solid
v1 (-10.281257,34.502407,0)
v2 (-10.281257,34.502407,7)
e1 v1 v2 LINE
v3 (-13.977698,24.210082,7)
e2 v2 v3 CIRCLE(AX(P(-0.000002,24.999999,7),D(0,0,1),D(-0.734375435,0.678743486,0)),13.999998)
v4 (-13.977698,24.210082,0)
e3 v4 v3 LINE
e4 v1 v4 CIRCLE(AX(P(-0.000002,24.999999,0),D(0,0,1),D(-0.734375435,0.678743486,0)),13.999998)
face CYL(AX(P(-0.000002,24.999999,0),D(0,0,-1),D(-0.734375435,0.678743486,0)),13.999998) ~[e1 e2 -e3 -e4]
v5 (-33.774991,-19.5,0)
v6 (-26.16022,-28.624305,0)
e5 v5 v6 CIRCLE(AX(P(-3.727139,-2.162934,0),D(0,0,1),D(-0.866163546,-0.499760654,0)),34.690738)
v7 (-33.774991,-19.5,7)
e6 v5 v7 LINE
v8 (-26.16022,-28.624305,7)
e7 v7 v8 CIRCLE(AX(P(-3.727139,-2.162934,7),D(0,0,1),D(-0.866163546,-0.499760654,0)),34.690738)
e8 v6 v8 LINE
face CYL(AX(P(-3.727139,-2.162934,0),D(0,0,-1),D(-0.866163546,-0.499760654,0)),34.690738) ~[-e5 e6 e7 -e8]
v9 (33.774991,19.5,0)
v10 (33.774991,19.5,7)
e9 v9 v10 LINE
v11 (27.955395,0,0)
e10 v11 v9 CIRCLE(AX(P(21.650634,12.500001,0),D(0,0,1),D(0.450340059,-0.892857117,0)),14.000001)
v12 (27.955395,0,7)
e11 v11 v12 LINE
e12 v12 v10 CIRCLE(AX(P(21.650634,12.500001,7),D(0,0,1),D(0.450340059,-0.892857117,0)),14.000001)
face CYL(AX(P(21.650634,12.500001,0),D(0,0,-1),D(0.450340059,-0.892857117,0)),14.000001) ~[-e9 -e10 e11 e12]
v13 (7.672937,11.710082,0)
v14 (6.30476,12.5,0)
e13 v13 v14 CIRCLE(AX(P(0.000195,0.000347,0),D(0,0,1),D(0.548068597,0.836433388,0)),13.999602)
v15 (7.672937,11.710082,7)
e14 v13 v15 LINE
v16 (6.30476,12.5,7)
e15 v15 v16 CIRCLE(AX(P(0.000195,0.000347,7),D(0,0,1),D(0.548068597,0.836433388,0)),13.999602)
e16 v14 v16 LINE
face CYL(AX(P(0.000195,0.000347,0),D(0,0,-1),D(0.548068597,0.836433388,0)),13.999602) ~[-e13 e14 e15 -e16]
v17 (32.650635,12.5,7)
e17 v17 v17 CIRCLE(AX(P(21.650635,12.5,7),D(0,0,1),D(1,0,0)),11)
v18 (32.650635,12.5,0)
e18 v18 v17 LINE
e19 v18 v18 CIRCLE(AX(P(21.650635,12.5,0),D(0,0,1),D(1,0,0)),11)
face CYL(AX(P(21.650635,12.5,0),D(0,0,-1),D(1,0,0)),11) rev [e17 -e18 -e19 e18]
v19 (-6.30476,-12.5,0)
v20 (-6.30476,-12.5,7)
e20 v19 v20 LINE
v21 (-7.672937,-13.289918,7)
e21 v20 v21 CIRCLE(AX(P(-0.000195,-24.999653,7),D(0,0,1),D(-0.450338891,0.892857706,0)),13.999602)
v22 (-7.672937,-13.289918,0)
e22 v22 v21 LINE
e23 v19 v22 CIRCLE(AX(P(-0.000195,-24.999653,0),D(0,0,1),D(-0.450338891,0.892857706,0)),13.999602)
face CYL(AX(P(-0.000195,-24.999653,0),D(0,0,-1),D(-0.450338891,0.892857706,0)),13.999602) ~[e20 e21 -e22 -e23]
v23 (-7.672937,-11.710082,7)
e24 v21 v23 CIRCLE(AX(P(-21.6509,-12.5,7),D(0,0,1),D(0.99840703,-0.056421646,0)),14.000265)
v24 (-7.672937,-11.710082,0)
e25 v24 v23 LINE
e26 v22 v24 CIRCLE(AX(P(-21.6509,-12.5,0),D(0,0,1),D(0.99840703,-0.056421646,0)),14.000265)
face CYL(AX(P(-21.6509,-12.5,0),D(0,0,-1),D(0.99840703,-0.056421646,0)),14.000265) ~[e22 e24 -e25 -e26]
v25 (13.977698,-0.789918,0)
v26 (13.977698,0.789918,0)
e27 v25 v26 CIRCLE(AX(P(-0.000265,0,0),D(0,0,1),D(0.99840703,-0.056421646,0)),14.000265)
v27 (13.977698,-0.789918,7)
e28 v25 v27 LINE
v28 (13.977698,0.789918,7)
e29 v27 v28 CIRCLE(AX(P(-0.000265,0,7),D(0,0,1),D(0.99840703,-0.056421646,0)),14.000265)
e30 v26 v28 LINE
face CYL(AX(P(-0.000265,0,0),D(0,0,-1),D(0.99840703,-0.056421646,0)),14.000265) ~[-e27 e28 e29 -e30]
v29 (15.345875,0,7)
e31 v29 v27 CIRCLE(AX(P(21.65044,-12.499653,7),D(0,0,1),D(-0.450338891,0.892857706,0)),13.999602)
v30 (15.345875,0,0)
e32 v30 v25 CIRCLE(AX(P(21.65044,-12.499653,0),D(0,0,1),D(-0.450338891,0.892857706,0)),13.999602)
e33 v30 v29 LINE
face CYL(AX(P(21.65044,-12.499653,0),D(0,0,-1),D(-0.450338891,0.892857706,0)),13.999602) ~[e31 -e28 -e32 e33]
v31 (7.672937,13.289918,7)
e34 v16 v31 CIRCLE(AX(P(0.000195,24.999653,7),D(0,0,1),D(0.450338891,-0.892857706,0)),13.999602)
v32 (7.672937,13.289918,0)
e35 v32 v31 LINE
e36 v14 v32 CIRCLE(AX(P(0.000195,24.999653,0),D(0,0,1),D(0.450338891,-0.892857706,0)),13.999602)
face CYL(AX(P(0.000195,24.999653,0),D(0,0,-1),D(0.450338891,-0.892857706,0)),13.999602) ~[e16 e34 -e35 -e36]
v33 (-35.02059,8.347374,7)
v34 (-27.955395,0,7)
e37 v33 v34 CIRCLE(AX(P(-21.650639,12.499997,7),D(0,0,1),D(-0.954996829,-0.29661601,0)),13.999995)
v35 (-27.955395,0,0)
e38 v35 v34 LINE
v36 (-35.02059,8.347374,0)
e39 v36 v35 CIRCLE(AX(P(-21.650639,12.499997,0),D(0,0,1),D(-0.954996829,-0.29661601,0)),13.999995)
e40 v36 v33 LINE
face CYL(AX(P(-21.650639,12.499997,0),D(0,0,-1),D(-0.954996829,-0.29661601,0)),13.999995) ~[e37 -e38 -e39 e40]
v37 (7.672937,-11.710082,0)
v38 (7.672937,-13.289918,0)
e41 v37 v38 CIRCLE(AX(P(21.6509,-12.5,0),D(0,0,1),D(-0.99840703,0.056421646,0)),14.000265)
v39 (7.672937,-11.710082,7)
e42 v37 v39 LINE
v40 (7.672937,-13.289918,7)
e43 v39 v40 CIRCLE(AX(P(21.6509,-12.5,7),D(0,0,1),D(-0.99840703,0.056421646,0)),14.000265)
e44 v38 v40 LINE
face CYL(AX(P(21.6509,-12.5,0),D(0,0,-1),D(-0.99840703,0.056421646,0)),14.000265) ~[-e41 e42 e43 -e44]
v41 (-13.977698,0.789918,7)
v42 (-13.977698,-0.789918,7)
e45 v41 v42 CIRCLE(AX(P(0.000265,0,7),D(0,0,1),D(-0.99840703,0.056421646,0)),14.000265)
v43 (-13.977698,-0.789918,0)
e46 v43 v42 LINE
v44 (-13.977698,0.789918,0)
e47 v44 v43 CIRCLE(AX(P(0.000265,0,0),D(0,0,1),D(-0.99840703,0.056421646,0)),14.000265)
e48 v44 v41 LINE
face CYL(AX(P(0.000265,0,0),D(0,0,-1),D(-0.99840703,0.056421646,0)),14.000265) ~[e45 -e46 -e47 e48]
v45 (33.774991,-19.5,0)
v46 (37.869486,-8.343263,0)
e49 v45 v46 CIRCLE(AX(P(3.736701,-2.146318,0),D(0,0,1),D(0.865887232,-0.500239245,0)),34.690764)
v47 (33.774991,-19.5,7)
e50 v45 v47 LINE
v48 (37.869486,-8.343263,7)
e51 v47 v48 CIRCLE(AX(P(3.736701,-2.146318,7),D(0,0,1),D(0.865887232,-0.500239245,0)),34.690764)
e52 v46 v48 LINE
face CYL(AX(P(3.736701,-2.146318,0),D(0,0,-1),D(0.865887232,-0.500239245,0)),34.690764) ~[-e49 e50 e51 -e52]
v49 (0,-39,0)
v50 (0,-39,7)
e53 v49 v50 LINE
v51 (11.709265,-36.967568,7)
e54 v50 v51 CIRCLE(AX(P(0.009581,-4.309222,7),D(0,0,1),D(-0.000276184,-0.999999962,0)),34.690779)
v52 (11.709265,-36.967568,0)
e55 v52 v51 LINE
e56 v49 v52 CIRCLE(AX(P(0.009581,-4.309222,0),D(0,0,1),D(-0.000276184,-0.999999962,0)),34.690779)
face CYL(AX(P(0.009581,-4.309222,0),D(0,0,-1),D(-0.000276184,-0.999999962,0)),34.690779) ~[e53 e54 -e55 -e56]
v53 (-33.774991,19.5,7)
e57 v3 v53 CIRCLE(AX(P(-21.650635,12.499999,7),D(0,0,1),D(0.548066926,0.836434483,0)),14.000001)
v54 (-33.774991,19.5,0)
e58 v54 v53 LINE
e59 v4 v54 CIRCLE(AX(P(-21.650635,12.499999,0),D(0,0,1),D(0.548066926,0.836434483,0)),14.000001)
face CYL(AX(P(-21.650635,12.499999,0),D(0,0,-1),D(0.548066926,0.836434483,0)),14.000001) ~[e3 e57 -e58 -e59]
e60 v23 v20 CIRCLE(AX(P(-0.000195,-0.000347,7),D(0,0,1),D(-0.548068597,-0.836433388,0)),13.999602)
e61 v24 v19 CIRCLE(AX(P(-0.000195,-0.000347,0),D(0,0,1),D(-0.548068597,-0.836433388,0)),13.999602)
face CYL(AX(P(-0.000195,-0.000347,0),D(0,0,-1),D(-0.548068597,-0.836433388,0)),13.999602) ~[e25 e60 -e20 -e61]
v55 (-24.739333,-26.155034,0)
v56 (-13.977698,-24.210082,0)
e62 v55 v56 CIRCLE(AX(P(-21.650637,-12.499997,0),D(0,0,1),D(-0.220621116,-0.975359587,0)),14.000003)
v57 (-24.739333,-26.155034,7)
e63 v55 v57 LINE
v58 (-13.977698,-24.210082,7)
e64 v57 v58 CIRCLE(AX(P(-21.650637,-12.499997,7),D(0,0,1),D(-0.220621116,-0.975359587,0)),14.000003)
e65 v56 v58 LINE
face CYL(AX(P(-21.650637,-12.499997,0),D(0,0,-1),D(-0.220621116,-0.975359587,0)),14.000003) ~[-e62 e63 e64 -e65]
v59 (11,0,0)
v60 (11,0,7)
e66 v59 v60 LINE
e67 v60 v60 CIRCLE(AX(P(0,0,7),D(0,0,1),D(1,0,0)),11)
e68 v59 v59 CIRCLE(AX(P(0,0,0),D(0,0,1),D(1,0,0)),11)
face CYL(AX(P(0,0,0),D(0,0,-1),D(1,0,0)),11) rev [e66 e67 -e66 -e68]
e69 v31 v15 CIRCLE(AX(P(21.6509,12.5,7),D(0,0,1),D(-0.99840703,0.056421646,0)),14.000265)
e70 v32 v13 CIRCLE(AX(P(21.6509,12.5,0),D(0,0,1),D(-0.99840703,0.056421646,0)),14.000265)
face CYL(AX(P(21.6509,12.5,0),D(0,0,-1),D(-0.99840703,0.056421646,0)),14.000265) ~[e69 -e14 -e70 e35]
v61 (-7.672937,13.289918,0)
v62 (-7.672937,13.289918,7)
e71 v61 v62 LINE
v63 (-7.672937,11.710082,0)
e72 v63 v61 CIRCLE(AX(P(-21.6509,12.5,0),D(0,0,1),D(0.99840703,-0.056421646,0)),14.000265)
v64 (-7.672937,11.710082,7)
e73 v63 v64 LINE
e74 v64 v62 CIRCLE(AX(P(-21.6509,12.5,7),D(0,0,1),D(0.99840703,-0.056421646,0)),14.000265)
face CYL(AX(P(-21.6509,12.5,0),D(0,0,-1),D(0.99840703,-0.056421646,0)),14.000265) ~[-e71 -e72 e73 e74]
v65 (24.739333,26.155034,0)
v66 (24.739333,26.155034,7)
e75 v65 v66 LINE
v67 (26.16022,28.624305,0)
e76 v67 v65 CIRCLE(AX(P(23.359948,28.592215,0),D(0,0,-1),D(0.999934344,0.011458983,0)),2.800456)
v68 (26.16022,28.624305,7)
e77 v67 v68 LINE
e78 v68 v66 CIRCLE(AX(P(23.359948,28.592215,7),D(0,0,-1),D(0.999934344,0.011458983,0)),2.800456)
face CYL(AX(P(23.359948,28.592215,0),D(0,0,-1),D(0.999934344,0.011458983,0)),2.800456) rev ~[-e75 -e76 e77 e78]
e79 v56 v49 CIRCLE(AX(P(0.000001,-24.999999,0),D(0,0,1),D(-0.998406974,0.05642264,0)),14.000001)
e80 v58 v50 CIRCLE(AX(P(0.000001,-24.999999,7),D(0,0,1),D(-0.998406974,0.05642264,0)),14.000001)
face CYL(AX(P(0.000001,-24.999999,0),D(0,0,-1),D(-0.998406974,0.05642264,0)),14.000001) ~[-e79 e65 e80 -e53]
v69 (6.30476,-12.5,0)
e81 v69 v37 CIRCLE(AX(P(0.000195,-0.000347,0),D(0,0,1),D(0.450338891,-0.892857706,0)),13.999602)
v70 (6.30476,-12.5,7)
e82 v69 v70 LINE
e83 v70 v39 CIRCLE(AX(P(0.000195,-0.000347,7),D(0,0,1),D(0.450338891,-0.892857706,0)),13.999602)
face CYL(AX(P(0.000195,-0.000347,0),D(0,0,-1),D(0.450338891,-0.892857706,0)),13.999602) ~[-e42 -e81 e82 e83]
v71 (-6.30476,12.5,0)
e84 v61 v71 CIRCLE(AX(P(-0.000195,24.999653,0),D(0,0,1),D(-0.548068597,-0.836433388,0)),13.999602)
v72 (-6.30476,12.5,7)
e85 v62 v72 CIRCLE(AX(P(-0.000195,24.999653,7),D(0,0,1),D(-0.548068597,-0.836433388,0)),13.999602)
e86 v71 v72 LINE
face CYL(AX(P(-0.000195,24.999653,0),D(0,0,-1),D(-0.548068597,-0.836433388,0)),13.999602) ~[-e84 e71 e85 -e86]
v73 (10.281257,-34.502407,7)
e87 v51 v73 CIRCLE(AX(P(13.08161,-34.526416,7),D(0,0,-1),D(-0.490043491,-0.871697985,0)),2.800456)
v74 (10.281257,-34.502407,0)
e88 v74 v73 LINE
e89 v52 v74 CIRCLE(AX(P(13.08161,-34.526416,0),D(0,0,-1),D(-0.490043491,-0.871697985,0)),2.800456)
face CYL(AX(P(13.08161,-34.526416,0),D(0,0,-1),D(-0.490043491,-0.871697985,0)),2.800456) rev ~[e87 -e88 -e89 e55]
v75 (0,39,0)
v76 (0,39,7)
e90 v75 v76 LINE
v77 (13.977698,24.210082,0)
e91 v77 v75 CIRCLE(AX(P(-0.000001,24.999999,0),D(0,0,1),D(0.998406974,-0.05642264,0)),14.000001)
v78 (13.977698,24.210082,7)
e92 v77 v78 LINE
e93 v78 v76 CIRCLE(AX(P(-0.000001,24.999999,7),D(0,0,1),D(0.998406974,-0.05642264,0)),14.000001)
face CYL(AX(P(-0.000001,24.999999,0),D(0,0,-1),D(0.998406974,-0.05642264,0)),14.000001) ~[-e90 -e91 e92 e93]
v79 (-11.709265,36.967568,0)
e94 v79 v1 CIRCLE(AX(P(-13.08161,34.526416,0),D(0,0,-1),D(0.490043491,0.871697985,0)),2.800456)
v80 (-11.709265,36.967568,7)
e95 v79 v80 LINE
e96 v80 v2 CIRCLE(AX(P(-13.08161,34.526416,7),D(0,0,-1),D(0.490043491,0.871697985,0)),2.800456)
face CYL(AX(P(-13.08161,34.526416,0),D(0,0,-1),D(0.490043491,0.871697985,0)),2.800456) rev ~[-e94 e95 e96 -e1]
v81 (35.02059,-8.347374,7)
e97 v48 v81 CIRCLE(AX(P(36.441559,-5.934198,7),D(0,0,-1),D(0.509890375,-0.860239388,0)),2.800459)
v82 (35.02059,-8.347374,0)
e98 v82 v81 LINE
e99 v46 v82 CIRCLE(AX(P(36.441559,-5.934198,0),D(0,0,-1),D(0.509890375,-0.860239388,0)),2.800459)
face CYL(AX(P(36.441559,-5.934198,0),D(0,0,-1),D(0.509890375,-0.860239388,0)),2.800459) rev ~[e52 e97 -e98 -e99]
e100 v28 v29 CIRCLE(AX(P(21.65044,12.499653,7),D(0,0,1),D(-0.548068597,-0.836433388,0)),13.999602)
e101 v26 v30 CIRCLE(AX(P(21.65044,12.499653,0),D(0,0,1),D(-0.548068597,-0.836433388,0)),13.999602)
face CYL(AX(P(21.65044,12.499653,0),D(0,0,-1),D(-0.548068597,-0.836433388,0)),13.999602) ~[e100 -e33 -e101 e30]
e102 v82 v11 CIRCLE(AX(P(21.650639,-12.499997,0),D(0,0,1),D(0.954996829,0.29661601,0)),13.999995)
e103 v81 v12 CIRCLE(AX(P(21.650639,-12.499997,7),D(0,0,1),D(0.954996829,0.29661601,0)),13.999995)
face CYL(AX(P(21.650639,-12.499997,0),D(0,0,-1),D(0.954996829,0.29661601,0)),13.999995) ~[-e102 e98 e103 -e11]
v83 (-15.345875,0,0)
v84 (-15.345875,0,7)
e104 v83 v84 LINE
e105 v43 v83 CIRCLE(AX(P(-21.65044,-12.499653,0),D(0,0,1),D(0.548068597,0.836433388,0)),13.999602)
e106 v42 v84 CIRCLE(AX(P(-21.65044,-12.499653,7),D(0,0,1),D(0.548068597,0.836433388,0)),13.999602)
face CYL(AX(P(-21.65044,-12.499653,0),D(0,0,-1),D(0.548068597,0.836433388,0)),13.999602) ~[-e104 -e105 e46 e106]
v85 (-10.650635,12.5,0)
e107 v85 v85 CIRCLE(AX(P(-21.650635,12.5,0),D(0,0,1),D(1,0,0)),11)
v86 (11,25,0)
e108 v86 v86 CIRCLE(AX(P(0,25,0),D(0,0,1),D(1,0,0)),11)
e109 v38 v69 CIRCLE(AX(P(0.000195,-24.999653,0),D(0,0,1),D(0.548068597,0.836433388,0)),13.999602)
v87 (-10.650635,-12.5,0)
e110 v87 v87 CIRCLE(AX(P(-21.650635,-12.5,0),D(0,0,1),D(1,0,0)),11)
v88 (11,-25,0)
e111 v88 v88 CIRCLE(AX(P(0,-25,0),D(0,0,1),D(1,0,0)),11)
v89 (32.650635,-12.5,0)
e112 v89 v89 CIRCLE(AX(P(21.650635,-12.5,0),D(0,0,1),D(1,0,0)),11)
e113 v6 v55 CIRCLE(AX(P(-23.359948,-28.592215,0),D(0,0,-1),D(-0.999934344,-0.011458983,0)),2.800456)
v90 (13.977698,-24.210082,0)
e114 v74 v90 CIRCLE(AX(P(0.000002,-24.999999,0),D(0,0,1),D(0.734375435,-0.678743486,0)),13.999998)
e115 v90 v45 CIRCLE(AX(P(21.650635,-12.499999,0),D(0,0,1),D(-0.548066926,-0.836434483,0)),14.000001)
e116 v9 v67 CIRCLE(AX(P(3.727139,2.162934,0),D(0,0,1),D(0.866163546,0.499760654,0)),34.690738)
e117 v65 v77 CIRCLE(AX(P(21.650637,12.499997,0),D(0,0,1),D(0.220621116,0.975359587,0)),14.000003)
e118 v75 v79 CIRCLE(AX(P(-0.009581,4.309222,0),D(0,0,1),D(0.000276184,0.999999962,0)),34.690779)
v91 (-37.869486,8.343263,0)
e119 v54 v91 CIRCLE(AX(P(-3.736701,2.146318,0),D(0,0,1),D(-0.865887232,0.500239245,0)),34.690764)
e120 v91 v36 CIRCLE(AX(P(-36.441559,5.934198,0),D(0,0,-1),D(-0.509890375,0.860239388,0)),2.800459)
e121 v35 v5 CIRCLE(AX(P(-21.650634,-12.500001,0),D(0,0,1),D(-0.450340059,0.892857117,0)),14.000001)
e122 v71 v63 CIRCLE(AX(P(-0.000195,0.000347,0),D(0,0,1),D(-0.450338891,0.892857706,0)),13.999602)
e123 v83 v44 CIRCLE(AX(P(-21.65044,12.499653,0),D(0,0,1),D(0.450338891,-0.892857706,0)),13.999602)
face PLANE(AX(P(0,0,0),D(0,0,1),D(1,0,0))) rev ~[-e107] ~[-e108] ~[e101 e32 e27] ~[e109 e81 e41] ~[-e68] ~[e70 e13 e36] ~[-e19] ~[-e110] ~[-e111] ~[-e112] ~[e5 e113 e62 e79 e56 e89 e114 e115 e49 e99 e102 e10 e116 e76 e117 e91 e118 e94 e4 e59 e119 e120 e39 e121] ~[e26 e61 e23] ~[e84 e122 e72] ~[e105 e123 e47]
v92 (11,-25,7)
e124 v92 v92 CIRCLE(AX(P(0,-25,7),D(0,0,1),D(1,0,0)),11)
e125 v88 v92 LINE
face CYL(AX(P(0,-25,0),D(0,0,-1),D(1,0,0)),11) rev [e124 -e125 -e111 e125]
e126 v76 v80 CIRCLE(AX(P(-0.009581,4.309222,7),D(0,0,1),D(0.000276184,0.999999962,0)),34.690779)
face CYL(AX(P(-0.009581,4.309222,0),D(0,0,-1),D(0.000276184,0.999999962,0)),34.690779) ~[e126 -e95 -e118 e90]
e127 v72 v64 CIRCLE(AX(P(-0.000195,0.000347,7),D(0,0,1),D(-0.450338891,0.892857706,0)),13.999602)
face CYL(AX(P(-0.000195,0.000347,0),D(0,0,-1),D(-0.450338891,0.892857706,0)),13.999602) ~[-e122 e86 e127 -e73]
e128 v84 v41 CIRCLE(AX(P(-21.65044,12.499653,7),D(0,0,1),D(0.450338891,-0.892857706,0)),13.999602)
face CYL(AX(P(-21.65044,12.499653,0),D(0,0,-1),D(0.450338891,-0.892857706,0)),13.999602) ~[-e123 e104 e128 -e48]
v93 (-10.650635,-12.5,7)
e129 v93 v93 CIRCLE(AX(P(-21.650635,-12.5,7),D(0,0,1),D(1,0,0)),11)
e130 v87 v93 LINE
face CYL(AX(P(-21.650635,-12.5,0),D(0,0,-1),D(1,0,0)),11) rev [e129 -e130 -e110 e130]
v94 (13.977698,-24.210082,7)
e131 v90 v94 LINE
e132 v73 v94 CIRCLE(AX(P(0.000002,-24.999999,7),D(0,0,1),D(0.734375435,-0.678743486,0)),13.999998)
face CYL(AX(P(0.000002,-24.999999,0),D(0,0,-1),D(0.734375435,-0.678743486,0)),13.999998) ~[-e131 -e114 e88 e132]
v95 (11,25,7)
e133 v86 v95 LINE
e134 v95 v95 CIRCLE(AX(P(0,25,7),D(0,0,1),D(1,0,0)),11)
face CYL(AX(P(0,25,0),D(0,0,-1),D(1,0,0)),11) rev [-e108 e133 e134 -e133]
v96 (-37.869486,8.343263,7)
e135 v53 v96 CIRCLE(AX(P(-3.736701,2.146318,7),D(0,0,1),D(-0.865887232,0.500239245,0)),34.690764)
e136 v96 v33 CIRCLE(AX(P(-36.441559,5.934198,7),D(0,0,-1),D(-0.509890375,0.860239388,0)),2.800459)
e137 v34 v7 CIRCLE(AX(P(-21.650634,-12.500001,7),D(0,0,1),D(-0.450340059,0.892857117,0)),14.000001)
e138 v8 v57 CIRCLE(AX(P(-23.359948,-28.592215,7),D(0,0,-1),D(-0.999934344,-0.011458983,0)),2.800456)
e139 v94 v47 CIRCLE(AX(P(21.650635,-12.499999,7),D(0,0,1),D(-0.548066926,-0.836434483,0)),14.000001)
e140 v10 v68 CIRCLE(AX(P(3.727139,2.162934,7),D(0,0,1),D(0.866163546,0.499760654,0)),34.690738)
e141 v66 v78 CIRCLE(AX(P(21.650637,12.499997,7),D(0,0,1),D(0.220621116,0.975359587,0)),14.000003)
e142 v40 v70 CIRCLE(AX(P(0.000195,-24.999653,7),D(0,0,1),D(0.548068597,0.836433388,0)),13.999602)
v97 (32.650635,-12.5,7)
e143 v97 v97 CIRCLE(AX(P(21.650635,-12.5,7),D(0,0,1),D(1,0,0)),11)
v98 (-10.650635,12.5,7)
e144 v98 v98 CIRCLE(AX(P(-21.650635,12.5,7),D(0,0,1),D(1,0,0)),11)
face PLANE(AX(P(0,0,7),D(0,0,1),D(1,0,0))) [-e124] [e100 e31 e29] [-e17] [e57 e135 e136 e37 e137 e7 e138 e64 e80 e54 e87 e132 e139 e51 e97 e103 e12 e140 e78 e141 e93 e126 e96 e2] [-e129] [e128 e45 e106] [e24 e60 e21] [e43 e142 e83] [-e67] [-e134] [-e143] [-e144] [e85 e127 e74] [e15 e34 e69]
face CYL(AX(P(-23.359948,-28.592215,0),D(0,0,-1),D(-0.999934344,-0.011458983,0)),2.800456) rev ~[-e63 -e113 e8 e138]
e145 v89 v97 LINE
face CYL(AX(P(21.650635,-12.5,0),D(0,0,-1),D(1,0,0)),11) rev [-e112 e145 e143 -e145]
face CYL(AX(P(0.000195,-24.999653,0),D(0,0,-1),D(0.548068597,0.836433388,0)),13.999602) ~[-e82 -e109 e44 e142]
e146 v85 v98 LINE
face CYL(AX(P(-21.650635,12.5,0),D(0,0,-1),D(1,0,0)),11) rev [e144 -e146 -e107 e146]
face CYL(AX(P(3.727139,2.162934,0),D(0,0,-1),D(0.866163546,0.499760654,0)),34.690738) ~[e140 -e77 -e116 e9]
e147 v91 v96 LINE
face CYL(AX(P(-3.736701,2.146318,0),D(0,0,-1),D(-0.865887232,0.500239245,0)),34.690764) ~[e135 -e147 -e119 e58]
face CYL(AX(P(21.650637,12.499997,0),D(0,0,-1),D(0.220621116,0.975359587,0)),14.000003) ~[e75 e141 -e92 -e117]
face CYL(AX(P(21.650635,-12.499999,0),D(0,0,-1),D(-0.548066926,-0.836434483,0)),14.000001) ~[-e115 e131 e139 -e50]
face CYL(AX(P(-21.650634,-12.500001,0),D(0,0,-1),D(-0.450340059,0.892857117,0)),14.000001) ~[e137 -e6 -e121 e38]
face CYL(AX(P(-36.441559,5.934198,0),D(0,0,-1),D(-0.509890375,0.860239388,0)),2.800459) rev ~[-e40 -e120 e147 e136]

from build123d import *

# Parameters (mm, degrees)
F0_R     = 11
F1_DEPTH = 7


with BuildPart() as f1:
    # F0 (on Top) → F1 (new body)
    with BuildSketch(Plane.XY):
        with BuildLine():
            ThreePointArc((-10.281257, 34.502407), (-13.176009, 29.732102), (-13.977698, 24.210082))
            ThreePointArc((-13.977698, 24.210082), (-24.891005, 26.119838), (-33.774991, 19.5))
            ThreePointArc((-33.774991, 19.5), (-35.564126, 14.053951), (-35.02059, 8.347374))
            ThreePointArc((-35.02059, 8.347374), (-32.33676, 3.455292), (-27.955395, 0))
            ThreePointArc((-27.955395, 0), (-35.065946, -8.496324), (-33.774991, -19.5))
            ThreePointArc((-33.774991, -19.5), (-29.953142, -23.772461), (-24.739333, -26.155034))
            ThreePointArc((-24.739333, -26.155034), (-19.160751, -26.276809), (-13.977698, -24.210082))
            ThreePointArc((-13.977698, -24.210082), (-10.174941, -34.616162), (0, -39))
            ThreePointArc((0, -39), (5.610985, -37.826412), (10.281257, -34.502407))
            ThreePointArc((10.281257, -34.502407), (13.176009, -29.732102), (13.977698, -24.210082))
            ThreePointArc((13.977698, -24.210082), (24.891005, -26.119838), (33.774991, -19.5))
            ThreePointArc((33.774991, -19.5), (35.564126, -14.053951), (35.02059, -8.347374))
            ThreePointArc((35.02059, -8.347374), (32.33676, -3.455292), (27.955395, 0))
            ThreePointArc((27.955395, 0), (35.065946, 8.496324), (33.774991, 19.5))
            ThreePointArc((33.774991, 19.5), (29.953142, 23.772461), (24.739333, 26.155034))
            ThreePointArc((24.739333, 26.155034), (19.160751, 26.276809), (13.977698, 24.210082))
            ThreePointArc((13.977698, 24.210082), (10.174941, 34.616162), (0, 39))
            ThreePointArc((0, 39), (-5.610985, 37.826412), (-10.281257, 34.502407))
        make_face()
        with Locations((-21.650635, -12.5)):
            Circle(F0_R, mode=Mode.SUBTRACT)
        with BuildLine():
            ThreePointArc((-6.30476, -12.5), (-7, -12.875644), (-7.672937, -13.289918))
            ThreePointArc((-7.672937, -13.289918), (-7.650635, -12.5), (-7.672937, -11.710082))
            ThreePointArc((-7.672937, -11.710082), (-7, -12.124356), (-6.30476, -12.5))
        make_face(mode=Mode.SUBTRACT)
        with Locations((0, -25)):
            Circle(F0_R, mode=Mode.SUBTRACT)
        with BuildLine():
            ThreePointArc((7.672937, -11.710082), (7.650635, -12.5), (7.672937, -13.289918))
            ThreePointArc((7.672937, -13.289918), (7, -12.875644), (6.30476, -12.5))
            ThreePointArc((6.30476, -12.5), (7, -12.124356), (7.672937, -11.710082))
        make_face(mode=Mode.SUBTRACT)
        with Locations((21.650635, -12.5)):
            Circle(F0_R, mode=Mode.SUBTRACT)
        with Locations((-21.650635, 12.5)):
            Circle(F0_R, mode=Mode.SUBTRACT)
        with BuildLine():
            ThreePointArc((-15.345875, 0), (-14.650635, 0.375644), (-13.977698, 0.789918))
            ThreePointArc((-13.977698, 0.789918), (-14, 0), (-13.977698, -0.789918))
            ThreePointArc((-13.977698, -0.789918), (-14.650635, -0.375644), (-15.345875, 0))
        make_face(mode=Mode.SUBTRACT)
        with BuildLine():
            ThreePointArc((-7.672937, 11.710082), (-7.650635, 12.5), (-7.672937, 13.289918))
            ThreePointArc((-7.672937, 13.289918), (-7, 12.875644), (-6.30476, 12.5))
            ThreePointArc((-6.30476, 12.5), (-7, 12.124356), (-7.672937, 11.710082))
        make_face(mode=Mode.SUBTRACT)
        Circle(F0_R, mode=Mode.SUBTRACT)
        with BuildLine():
            ThreePointArc((13.977698, -0.789918), (14, 0), (13.977698, 0.789918))
            ThreePointArc((13.977698, 0.789918), (14.650635, 0.375644), (15.345875, 0))
            ThreePointArc((15.345875, 0), (14.650635, -0.375644), (13.977698, -0.789918))
        make_face(mode=Mode.SUBTRACT)
        with BuildLine():
            ThreePointArc((6.30476, 12.5), (7, 12.875644), (7.672937, 13.289918))
            ThreePointArc((7.672937, 13.289918), (7.650635, 12.5), (7.672937, 11.710082))
            ThreePointArc((7.672937, 11.710082), (7, 12.124356), (6.30476, 12.5))
        make_face(mode=Mode.SUBTRACT)
        with Locations((21.650635, 12.5)):
            Circle(F0_R, mode=Mode.SUBTRACT)
        with Locations((0, 25)):
            Circle(F0_R, mode=Mode.SUBTRACT)
        with BuildLine():
            ThreePointArc((-35.02059, 8.347374), (-35.564126, 14.053951), (-33.774991, 19.5))
            ThreePointArc((-33.774991, 19.5), (-36.303554, 14.098273), (-37.869486, 8.343263))
            ThreePointArc((-37.869486, 8.343263), (-36.4456, 8.734654), (-35.02059, 8.347374))
        make_face()
        with BuildLine():
            ThreePointArc((-11.709265, 36.967568), (-10.658367, 35.930142), (-10.281257, 34.502407))
            ThreePointArc((-10.281257, 34.502407), (-5.610985, 37.826412), (0, 39))
            ThreePointArc((0, 39), (-5.942314, 38.488936), (-11.709265, 36.967568))
        make_face()
        with BuildLine():
            ThreePointArc((-24.739333, -26.155034), (-29.953142, -23.772461), (-33.774991, -19.5))
            ThreePointArc((-33.774991, -19.5), (-30.36124, -24.390663), (-26.16022, -28.624305))
            ThreePointArc((-26.16022, -28.624305), (-25.787232, -27.195488), (-24.739333, -26.155034))
        make_face()
        with BuildLine():
            ThreePointArc((26.16022, 28.624305), (25.787232, 27.195488), (24.739333, 26.155034))
            ThreePointArc((24.739333, 26.155034), (29.953142, 23.772461), (33.774991, 19.5))
            ThreePointArc((33.774991, 19.5), (30.36124, 24.390663), (26.16022, 28.624305))
        make_face()
        with BuildLine():
            ThreePointArc((10.281257, -34.502407), (5.610985, -37.826412), (0, -39))
            ThreePointArc((0, -39), (5.942314, -38.488936), (11.709265, -36.967568))
            ThreePointArc((11.709265, -36.967568), (10.658367, -35.930142), (10.281257, -34.502407))
        make_face()
        with BuildLine():
            ThreePointArc((37.869486, -8.343263), (36.4456, -8.734654), (35.02059, -8.347374))
            ThreePointArc((35.02059, -8.347374), (35.564126, -14.053951), (33.774991, -19.5))
            ThreePointArc((33.774991, -19.5), (36.303554, -14.098273), (37.869486, -8.343263))
        make_face()
    extrude(amount=F1_DEPTH)


solid = f1.part
